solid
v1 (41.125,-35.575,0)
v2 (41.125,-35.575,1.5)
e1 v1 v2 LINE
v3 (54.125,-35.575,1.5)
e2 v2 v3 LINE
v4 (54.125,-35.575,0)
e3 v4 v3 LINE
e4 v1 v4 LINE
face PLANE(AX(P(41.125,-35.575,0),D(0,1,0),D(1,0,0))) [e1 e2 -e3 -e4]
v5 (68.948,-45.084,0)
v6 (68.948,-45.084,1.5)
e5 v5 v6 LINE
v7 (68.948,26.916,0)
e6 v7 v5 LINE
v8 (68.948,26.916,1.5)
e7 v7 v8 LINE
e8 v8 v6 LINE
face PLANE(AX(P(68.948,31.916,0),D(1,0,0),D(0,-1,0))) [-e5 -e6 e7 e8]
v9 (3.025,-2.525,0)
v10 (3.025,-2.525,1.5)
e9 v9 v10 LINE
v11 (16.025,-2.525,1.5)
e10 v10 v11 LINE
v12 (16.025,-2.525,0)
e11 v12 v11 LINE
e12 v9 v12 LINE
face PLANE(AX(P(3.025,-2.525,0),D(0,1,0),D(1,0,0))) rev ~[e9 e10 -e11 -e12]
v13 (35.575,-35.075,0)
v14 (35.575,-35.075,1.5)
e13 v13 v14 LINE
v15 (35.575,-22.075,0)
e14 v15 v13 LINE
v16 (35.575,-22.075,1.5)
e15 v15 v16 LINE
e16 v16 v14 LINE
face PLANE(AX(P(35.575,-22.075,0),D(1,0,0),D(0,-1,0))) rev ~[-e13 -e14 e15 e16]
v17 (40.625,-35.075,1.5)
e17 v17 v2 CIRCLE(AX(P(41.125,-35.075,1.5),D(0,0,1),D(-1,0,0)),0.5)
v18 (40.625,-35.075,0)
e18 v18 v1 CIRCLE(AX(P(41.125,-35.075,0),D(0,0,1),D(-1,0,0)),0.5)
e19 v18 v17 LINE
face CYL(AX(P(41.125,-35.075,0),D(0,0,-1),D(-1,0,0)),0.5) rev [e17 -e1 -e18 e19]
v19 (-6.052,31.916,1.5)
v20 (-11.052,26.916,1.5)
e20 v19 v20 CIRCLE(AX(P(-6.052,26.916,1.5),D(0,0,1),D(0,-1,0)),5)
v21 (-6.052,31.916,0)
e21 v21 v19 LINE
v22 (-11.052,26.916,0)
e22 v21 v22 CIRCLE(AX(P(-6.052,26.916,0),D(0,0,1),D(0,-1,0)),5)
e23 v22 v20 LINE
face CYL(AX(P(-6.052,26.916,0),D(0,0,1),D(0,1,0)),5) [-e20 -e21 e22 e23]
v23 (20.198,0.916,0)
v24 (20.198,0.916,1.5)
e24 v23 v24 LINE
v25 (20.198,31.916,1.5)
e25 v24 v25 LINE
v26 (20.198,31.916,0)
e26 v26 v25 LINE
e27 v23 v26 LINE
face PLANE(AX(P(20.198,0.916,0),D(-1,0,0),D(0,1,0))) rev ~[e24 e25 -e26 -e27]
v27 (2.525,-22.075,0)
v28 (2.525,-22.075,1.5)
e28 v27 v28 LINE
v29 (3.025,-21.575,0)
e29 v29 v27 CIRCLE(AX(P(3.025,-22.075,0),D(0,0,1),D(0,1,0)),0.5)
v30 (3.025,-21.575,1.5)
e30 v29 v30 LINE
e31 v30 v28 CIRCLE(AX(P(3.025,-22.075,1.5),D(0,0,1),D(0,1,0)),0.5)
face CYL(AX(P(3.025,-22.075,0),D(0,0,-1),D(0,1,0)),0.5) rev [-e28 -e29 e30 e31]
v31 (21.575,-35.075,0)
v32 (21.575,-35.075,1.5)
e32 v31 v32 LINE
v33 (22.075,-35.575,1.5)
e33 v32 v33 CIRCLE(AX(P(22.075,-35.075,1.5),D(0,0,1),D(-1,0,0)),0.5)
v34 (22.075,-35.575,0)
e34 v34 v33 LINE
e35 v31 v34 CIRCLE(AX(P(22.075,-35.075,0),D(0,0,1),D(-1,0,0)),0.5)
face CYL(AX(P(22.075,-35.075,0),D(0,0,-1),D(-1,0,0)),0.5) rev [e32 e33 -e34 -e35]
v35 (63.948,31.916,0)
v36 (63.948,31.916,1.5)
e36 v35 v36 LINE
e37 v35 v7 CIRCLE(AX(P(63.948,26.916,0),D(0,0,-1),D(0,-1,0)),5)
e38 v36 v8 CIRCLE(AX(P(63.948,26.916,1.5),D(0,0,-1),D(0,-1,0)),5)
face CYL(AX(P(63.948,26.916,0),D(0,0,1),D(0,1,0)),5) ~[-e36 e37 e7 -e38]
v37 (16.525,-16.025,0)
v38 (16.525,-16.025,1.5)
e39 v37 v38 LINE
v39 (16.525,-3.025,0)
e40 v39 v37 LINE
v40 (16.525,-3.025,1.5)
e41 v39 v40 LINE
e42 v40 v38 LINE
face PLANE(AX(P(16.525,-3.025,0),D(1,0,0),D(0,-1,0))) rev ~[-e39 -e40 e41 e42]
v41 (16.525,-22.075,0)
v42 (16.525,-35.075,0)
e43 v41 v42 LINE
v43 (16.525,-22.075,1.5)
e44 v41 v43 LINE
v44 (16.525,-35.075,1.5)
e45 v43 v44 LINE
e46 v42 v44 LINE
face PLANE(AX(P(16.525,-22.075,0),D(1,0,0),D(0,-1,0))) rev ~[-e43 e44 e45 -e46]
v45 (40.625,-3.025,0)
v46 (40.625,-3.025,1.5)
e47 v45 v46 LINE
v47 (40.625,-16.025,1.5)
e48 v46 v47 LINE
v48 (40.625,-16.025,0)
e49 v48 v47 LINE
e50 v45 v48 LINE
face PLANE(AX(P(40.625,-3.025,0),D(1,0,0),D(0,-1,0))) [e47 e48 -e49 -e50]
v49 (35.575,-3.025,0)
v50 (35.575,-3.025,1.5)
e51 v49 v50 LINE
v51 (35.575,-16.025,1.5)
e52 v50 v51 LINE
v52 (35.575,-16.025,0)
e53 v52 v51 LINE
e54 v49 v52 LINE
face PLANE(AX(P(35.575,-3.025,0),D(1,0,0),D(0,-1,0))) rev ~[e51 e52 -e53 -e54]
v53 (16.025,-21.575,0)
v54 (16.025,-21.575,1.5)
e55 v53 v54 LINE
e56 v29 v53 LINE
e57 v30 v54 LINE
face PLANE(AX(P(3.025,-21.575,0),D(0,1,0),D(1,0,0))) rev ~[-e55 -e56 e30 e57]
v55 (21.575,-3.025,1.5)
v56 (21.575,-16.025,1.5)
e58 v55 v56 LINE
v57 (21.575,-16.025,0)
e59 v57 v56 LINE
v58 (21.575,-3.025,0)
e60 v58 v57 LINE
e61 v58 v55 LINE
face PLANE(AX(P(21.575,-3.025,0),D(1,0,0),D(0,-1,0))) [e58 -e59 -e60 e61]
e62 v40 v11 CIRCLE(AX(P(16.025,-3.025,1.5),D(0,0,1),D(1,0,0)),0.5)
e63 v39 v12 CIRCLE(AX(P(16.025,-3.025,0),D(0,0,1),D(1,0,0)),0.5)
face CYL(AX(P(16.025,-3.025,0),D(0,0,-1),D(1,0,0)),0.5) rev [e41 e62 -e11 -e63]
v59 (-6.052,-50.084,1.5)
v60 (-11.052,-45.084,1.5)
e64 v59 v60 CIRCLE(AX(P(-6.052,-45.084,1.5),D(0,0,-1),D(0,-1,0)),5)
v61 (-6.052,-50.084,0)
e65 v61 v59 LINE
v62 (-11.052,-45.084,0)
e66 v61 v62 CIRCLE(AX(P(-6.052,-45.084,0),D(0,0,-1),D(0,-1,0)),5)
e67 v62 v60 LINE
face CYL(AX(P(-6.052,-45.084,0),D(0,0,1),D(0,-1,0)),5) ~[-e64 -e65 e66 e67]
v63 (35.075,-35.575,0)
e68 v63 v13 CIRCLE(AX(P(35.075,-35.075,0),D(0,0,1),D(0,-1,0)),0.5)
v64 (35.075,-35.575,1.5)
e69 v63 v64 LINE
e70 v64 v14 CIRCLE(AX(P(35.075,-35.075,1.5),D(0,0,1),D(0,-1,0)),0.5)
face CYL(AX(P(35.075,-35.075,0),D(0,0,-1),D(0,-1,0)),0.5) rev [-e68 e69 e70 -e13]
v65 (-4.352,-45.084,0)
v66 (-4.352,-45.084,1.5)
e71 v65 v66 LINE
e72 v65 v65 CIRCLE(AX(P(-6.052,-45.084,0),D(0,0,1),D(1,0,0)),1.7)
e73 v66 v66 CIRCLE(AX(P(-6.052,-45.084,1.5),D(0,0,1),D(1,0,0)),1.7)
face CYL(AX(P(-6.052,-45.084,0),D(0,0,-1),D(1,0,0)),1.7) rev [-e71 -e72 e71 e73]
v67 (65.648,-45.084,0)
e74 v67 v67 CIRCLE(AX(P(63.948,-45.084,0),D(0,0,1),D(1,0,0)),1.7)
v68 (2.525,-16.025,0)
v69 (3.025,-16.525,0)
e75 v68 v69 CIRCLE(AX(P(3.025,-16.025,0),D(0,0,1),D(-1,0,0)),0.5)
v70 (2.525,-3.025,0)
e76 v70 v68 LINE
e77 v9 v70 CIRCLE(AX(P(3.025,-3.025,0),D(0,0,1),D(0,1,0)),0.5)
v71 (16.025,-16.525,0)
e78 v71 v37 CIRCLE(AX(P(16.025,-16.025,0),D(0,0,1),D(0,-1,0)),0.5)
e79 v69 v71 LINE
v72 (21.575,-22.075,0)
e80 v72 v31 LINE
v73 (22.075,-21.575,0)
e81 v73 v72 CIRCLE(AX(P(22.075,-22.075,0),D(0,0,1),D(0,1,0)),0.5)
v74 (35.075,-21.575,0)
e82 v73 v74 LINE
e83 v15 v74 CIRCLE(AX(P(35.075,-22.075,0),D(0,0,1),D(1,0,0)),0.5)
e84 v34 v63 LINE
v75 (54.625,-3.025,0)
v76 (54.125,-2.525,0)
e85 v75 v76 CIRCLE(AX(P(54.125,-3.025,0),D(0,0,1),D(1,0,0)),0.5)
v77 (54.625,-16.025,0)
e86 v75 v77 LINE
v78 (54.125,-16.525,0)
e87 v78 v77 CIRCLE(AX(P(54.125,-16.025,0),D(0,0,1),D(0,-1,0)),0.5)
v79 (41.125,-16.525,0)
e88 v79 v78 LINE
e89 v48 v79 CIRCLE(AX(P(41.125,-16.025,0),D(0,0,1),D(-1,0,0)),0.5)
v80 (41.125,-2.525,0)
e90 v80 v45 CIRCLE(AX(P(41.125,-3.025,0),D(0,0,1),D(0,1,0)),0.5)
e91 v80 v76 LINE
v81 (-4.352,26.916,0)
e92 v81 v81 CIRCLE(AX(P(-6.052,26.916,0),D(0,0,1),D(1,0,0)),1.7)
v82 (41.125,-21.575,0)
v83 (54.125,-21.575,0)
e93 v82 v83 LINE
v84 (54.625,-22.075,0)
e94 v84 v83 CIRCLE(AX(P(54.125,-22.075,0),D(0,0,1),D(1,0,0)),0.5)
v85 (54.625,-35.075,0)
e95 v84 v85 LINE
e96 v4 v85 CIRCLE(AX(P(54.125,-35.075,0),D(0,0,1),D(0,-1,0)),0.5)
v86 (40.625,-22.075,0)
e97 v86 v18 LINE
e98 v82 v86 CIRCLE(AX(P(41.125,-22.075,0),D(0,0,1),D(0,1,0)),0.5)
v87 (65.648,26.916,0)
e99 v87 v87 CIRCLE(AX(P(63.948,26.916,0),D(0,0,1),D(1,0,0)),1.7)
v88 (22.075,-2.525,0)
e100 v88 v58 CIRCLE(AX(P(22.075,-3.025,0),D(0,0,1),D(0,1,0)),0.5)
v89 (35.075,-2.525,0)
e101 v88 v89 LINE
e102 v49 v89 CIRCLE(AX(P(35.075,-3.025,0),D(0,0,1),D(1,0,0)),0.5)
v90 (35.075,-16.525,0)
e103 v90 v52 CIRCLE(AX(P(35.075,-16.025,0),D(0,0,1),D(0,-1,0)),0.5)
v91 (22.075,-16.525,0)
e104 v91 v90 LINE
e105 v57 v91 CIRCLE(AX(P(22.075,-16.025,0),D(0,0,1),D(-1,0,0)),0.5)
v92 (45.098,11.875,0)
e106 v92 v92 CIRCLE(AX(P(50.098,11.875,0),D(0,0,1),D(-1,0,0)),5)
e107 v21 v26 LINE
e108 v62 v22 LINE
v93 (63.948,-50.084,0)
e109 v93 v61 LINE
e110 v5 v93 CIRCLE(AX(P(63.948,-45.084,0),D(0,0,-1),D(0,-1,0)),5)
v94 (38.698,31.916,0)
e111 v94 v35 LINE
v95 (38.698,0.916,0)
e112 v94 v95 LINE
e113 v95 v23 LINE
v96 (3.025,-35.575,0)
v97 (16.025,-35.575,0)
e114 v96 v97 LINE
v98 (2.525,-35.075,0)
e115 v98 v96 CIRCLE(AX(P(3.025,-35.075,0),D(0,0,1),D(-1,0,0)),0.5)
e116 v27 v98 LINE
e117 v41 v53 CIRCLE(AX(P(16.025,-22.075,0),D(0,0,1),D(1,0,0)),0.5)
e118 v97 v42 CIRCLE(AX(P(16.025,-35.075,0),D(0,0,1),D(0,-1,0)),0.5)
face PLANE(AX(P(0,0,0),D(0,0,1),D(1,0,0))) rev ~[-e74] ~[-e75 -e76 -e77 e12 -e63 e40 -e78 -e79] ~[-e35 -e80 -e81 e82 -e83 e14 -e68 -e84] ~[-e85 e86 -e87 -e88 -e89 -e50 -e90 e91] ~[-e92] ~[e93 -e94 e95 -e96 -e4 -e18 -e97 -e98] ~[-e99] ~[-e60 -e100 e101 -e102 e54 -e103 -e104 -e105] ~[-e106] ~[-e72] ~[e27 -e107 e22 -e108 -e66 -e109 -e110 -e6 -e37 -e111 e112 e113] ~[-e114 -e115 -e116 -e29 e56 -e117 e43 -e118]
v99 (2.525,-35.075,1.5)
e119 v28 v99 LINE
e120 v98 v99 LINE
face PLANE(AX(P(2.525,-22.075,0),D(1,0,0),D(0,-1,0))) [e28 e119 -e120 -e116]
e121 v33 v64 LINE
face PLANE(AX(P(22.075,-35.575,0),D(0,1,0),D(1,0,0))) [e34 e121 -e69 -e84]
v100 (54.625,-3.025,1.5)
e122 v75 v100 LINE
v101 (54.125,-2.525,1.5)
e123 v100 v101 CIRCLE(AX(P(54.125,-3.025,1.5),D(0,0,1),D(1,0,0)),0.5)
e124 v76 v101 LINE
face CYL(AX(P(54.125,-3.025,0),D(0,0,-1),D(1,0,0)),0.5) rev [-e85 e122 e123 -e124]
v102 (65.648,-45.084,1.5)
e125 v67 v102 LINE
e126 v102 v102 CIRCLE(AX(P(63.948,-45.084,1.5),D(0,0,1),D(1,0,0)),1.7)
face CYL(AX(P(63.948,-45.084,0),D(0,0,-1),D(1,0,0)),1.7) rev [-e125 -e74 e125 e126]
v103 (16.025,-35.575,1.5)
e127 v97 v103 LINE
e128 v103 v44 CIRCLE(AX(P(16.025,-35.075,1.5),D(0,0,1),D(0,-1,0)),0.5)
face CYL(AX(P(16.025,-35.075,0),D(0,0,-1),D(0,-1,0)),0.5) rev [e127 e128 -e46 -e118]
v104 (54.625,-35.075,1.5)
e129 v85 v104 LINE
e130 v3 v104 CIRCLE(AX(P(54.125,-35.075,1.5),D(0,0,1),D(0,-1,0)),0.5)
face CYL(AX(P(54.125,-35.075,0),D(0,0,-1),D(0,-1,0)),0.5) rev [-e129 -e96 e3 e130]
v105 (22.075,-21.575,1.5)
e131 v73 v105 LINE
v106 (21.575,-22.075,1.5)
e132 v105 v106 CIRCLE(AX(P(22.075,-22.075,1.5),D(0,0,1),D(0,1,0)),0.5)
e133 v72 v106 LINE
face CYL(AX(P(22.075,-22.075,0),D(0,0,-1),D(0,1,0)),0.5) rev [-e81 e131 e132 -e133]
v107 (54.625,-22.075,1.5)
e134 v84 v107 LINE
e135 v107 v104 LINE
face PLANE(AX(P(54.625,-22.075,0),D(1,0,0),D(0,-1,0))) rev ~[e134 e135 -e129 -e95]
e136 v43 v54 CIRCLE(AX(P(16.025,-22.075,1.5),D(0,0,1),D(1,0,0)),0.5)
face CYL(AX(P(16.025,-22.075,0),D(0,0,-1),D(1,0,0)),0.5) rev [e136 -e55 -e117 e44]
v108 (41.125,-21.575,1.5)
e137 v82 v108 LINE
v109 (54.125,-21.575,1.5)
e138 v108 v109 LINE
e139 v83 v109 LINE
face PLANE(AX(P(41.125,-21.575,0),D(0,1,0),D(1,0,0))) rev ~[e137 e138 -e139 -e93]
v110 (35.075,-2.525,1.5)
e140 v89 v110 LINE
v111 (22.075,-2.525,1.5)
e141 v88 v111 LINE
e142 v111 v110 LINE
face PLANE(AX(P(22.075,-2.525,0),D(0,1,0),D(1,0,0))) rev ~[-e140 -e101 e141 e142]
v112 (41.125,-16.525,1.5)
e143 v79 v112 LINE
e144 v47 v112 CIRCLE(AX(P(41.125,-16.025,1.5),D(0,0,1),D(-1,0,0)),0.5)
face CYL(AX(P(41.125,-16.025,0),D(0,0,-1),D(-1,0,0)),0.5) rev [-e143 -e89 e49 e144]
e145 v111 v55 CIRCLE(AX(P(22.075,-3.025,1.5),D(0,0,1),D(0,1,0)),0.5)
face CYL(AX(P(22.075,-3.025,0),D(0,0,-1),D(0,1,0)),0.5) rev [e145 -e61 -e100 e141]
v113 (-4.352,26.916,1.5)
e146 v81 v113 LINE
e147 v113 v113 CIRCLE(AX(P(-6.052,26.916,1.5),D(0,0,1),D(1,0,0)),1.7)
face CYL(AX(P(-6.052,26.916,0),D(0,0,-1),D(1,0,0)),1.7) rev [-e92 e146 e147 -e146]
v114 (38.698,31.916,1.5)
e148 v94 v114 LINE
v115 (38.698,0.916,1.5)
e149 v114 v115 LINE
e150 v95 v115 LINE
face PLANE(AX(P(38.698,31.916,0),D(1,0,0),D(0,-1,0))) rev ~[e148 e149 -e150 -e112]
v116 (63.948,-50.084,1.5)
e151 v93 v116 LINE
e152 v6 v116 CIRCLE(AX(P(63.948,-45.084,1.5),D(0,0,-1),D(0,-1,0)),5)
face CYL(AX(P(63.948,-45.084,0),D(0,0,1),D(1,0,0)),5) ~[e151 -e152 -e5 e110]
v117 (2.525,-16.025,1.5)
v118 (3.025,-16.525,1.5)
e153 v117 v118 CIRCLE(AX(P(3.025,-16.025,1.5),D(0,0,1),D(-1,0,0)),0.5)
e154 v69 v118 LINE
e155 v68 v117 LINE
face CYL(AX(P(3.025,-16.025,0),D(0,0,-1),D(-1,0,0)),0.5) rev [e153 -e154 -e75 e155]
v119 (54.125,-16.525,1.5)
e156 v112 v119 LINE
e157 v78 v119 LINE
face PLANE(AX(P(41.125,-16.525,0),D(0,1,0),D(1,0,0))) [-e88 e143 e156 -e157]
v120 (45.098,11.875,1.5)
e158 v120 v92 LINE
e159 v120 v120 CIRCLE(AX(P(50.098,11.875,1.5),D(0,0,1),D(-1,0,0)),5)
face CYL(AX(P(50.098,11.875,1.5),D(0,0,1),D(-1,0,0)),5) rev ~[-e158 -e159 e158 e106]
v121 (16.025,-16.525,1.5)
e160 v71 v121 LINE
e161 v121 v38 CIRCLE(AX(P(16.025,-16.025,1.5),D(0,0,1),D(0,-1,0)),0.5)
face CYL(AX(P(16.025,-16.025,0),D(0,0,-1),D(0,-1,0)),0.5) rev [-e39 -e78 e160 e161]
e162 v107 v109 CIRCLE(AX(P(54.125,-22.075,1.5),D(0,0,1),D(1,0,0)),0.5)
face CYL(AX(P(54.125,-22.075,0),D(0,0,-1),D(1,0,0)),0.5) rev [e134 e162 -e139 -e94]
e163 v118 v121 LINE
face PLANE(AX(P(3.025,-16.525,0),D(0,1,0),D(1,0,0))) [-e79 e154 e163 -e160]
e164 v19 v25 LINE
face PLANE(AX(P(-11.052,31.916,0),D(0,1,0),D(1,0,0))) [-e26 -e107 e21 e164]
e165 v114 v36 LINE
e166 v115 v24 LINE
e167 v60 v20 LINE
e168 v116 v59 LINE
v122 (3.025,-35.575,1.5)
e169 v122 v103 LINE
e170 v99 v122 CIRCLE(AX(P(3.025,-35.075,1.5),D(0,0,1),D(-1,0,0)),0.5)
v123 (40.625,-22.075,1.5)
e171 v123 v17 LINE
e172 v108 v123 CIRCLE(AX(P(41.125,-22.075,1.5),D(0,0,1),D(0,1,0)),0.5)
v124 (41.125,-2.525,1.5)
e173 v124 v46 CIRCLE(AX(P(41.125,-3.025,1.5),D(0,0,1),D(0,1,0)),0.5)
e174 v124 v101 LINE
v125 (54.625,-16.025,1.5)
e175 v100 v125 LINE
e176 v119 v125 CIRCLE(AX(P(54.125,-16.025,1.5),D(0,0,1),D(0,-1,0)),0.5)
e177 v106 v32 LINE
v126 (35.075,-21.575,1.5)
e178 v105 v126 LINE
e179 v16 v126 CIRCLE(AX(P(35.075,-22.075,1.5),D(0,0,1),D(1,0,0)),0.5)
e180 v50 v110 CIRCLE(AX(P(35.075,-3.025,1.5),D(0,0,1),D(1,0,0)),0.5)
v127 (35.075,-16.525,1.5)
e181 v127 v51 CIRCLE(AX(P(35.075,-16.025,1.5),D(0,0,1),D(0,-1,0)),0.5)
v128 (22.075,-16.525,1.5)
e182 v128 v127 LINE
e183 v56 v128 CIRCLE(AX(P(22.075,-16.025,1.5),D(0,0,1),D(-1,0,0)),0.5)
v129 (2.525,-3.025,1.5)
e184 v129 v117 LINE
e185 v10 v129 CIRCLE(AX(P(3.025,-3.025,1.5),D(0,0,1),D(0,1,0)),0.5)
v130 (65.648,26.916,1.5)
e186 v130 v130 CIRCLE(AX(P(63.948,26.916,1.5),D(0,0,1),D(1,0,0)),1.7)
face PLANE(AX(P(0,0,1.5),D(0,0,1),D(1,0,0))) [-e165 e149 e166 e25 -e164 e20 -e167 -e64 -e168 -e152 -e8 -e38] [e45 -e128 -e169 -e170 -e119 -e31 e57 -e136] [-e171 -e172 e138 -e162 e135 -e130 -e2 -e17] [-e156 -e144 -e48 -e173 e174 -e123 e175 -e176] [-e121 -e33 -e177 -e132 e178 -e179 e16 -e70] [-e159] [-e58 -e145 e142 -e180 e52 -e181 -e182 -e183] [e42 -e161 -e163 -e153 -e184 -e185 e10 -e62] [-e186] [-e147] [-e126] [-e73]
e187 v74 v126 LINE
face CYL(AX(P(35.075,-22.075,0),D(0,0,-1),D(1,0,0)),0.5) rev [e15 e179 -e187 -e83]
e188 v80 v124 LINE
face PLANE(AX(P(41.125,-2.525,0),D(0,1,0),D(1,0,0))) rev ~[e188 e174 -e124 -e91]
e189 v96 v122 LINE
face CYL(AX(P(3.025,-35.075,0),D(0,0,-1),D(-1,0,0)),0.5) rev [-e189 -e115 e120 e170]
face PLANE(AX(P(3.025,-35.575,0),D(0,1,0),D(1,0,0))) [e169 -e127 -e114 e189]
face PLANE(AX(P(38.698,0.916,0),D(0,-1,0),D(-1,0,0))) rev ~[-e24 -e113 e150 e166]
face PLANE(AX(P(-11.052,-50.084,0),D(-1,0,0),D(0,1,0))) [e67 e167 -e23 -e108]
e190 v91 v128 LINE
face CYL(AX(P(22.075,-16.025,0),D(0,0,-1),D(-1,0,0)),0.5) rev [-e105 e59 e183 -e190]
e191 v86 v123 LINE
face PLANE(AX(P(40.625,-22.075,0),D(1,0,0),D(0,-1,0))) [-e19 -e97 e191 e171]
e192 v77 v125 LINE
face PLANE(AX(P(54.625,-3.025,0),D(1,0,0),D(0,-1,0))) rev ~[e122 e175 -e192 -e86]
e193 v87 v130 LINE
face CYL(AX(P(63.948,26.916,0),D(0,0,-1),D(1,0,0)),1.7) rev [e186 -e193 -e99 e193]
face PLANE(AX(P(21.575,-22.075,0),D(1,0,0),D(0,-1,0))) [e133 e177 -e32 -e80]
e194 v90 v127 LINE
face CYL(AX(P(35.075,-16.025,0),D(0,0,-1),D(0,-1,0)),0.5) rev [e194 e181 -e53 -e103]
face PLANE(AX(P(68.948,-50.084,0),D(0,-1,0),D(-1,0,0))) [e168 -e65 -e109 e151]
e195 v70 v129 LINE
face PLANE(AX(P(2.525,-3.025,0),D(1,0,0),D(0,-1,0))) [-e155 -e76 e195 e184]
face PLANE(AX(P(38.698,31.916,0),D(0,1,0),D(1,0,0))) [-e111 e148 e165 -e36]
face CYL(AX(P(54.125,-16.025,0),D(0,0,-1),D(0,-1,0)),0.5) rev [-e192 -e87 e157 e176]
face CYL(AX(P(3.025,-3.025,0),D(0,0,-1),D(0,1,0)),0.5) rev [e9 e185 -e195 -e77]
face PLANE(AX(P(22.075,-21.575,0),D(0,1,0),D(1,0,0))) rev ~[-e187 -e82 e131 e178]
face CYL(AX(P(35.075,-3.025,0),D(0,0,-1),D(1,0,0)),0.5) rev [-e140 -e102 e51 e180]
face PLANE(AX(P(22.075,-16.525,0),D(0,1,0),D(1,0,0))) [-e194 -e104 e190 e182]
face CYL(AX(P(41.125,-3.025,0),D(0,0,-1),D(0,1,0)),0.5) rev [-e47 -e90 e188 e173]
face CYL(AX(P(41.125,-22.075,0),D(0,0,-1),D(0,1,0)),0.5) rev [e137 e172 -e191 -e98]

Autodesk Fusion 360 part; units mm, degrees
sketch "Sketch1" plane through (0, 0, 0) normal (0, 0, 1) x (1, 0, 0)
  line L0 (3.025, -2.525) -> (16.025, -2.525)
  line L1 (3.025, -16.525) -> (16.025, -16.525)
  line L2 (2.525, -3.025) -> (2.525, -16.025)
  line L3 (16.525, -3.025) -> (16.525, -16.025)
  arc A0 (3.025, -2.525) -> (2.525, -3.025) centre (3.025, -3.025) ccw
  arc A1 (16.525, -3.025) -> (16.025, -2.525) centre (16.025, -3.025) ccw
  arc A2 (2.525, -16.025) -> (3.025, -16.525) centre (3.025, -16.025) ccw
  arc A3 (16.025, -16.525) -> (16.525, -16.025) centre (16.025, -16.025) ccw
  line L4 (22.075, -2.525) -> (35.075, -2.525)
  line L5 (22.075, -16.525) -> (35.075, -16.525)
  line L6 (21.575, -3.025) -> (21.575, -16.025)
  line L7 (35.575, -3.025) -> (35.575, -16.025)
  arc A4 (22.075, -2.525) -> (21.575, -3.025) centre (22.075, -3.025) ccw
  arc A5 (35.575, -3.025) -> (35.075, -2.525) centre (35.075, -3.025) ccw
  arc A6 (21.575, -16.025) -> (22.075, -16.525) centre (22.075, -16.025) ccw
  arc A7 (35.075, -16.525) -> (35.575, -16.025) centre (35.075, -16.025) ccw
  line L8 (41.125, -2.525) -> (54.125, -2.525)
  line L9 (41.125, -16.525) -> (54.125, -16.525)
  line L10 (40.625, -3.025) -> (40.625, -16.025)
  line L11 (54.625, -3.025) -> (54.625, -16.025)
  arc A8 (41.125, -2.525) -> (40.625, -3.025) centre (41.125, -3.025) ccw
  arc A9 (54.625, -3.025) -> (54.125, -2.525) centre (54.125, -3.025) ccw
  arc A10 (40.625, -16.025) -> (41.125, -16.525) centre (41.125, -16.025) ccw
  arc A11 (54.125, -16.525) -> (54.625, -16.025) centre (54.125, -16.025) ccw
  line L12 (3.025, -21.575) -> (16.025, -21.575)
  line L13 (3.025, -35.575) -> (16.025, -35.575)
  line L14 (2.525, -22.075) -> (2.525, -35.075)
  line L15 (16.525, -22.075) -> (16.525, -35.075)
  arc A12 (3.025, -21.575) -> (2.525, -22.075) centre (3.025, -22.075) ccw
  arc A13 (16.525, -22.075) -> (16.025, -21.575) centre (16.025, -22.075) ccw
  arc A14 (2.525, -35.075) -> (3.025, -35.575) centre (3.025, -35.075) ccw
  arc A15 (16.025, -35.575) -> (16.525, -35.075) centre (16.025, -35.075) ccw
  line L16 (22.075, -21.575) -> (35.075, -21.575)
  line L17 (22.075, -35.575) -> (35.075, -35.575)
  line L18 (21.575, -22.075) -> (21.575, -35.075)
  line L19 (35.575, -22.075) -> (35.575, -35.075)
  arc A16 (22.075, -21.575) -> (21.575, -22.075) centre (22.075, -22.075) ccw
  arc A17 (35.575, -22.075) -> (35.075, -21.575) centre (35.075, -22.075) ccw
  arc A18 (21.575, -35.075) -> (22.075, -35.575) centre (22.075, -35.075) ccw
  arc A19 (35.075, -35.575) -> (35.575, -35.075) centre (35.075, -35.075) ccw
  line L20 (41.125, -21.575) -> (54.125, -21.575)
  line L21 (41.125, -35.575) -> (54.125, -35.575)
  line L22 (40.625, -22.075) -> (40.625, -35.075)
  line L23 (54.625, -22.075) -> (54.625, -35.075)
  arc A20 (41.125, -21.575) -> (40.625, -22.075) centre (41.125, -22.075) ccw
  arc A21 (54.625, -22.075) -> (54.125, -21.575) centre (54.125, -22.075) ccw
  arc A22 (40.625, -35.075) -> (41.125, -35.575) centre (41.125, -35.075) ccw
  arc A23 (54.125, -35.575) -> (54.625, -35.075) centre (54.125, -35.075) ccw
  line L24 (-11.052, 31.916) -> (68.948, 31.916)
  line L25 (68.948, 31.916) -> (68.948, -50.084)
  line L26 (68.948, -50.084) -> (-11.052, -50.084)
  line L27 (-11.052, -50.084) -> (-11.052, 31.916)
  line L28 (20.198, 31.916) -> (38.698, 31.916)
  line L29 (38.698, 31.916) -> (38.698, 0.916)
  line L30 (38.698, 0.916) -> (20.198, 0.916)
  line L31 (20.198, 0.916) -> (20.198, 31.916)
  circle A24 centre (-6.052, 26.916) radius 1.7
  circle A25 centre (-6.052, -45.084) radius 1.7
  circle A26 centre (63.948, -45.084) radius 1.7
  circle A27 centre (63.948, 26.916) radius 1.7
  dimension "d1" = 80
  dimension "d2" = 82
  dimension "d4" = 13.577
  dimension "d5" = 14.509
  dimension "d6" = 18.5
  dimension "d7" = 31
  dimension "d8" = 31.25
  dimension "d9" = 3.4
  dimension "d10" = 5
  dimension "d11" = 5
  dimension "d12" = 3.4
  dimension "d13" = 5
  dimension "d14" = 5
  dimension "d15" = 3.4
  dimension "d16" = 5
  dimension "d17" = 5
  dimension "d18" = 3.4
  dimension "d19" = 5
  dimension "d20" = 5
extrude "Extrude1" add sketch "Sketch1" along normal blind 1.5 contours L24 L25 L26 L27 L29 L30 L31
fillet "Fillet1" radius 5 4 edges at (-11.052, -50.084, 0.75) (-11.052, 31.916, 0.75) (68.948, -50.084, 0.75) (68.948, 31.916, 0.75)
sketch "Sketch2" plane through (0, 0, 1.5) normal (0, 0, 1) x (-1, 0, 0)
  arc A0 (-68.948, -26.916) -> (-63.948, -31.916) centre (-63.948, -26.916) ccw
  line L0 (-63.948, -31.916) -> (-38.698, -31.916)
  line L1 (-38.698, -31.916) -> (-38.698, -0.916)
  line L2 (-38.698, -0.916) -> (-20.198, -0.916)
  line L3 (-20.198, -0.916) -> (-20.198, -31.916)
  line L4 (-20.198, -31.916) -> (6.052, -31.916)
  arc A1 (6.052, -31.916) -> (11.052, -26.916) centre (6.052, -26.916) ccw
  line L5 (11.052, -26.916) -> (11.052, 45.084)
  arc A2 (11.052, 45.084) -> (6.052, 50.084) centre (6.052, 45.084) ccw
  line L6 (6.052, 50.084) -> (-63.948, 50.084)
  arc A3 (-63.948, 50.084) -> (-68.948, 45.084) centre (-63.948, 45.084) ccw
  line L7 (-68.948, 45.084) -> (-68.948, -26.916)
  arc A4 (-41.125, 2.525) -> (-40.625, 3.025) centre (-41.125, 3.025) ccw
  line L8 (-41.125, 2.525) -> (-54.125, 2.525)
  arc A5 (-54.625, 3.025) -> (-54.125, 2.525) centre (-54.125, 3.025) ccw
  line L9 (-54.625, 3.025) -> (-54.625, 16.025)
  arc A6 (-54.125, 16.525) -> (-54.625, 16.025) centre (-54.125, 16.025) ccw
  line L10 (-54.125, 16.525) -> (-41.125, 16.525)
  arc A7 (-40.625, 16.025) -> (-41.125, 16.525) centre (-41.125, 16.025) ccw
  line L11 (-40.625, 16.025) -> (-40.625, 3.025)
  arc A8 (-22.075, 2.525) -> (-21.575, 3.025) centre (-22.075, 3.025) ccw
  line L12 (-22.075, 2.525) -> (-35.075, 2.525)
  arc A9 (-35.575, 3.025) -> (-35.075, 2.525) centre (-35.075, 3.025) ccw
  line L13 (-35.575, 3.025) -> (-35.575, 16.025)
  arc A10 (-35.075, 16.525) -> (-35.575, 16.025) centre (-35.075, 16.025) ccw
  line L14 (-35.075, 16.525) -> (-22.075, 16.525)
  arc A11 (-21.575, 16.025) -> (-22.075, 16.525) centre (-22.075, 16.025) ccw
  line L15 (-21.575, 16.025) -> (-21.575, 3.025)
  circle A12 centre (-63.948, 45.084) radius 1.7
  arc A13 (-3.025, 21.575) -> (-2.525, 22.075) centre (-3.025, 22.075) ccw
  line L16 (-3.025, 21.575) -> (-16.025, 21.575)
  arc A14 (-16.525, 22.075) -> (-16.025, 21.575) centre (-16.025, 22.075) ccw
  line L17 (-16.525, 22.075) -> (-16.525, 35.075)
  arc A15 (-16.025, 35.575) -> (-16.525, 35.075) centre (-16.025, 35.075) ccw
  line L18 (-16.025, 35.575) -> (-3.025, 35.575)
  arc A16 (-2.525, 35.075) -> (-3.025, 35.575) centre (-3.025, 35.075) ccw
  line L19 (-2.525, 35.075) -> (-2.525, 22.075)
  arc A17 (-3.025, 2.525) -> (-2.525, 3.025) centre (-3.025, 3.025) ccw
  line L20 (-3.025, 2.525) -> (-16.025, 2.525)
  arc A18 (-16.525, 3.025) -> (-16.025, 2.525) centre (-16.025, 3.025) ccw
  line L21 (-16.525, 3.025) -> (-16.525, 16.025)
  arc A19 (-16.025, 16.525) -> (-16.525, 16.025) centre (-16.025, 16.025) ccw
  line L22 (-16.025, 16.525) -> (-3.025, 16.525)
  arc A20 (-2.525, 16.025) -> (-3.025, 16.525) centre (-3.025, 16.025) ccw
  line L23 (-2.525, 16.025) -> (-2.525, 3.025)
  circle A21 centre (6.052, 45.084) radius 1.7
  arc A22 (-41.125, 21.575) -> (-40.625, 22.075) centre (-41.125, 22.075) ccw
  line L24 (-41.125, 21.575) -> (-54.125, 21.575)
  arc A23 (-54.625, 22.075) -> (-54.125, 21.575) centre (-54.125, 22.075) ccw
  line L25 (-54.625, 22.075) -> (-54.625, 35.075)
  arc A24 (-54.125, 35.575) -> (-54.625, 35.075) centre (-54.125, 35.075) ccw
  line L26 (-54.125, 35.575) -> (-41.125, 35.575)
  arc A25 (-40.625, 35.075) -> (-41.125, 35.575) centre (-41.125, 35.075) ccw
  line L27 (-40.625, 35.075) -> (-40.625, 22.075)
  circle A26 centre (6.052, -26.916) radius 1.7
  arc A27 (-22.075, 21.575) -> (-21.575, 22.075) centre (-22.075, 22.075) ccw
  line L28 (-22.075, 21.575) -> (-35.075, 21.575)
  arc A28 (-35.575, 22.075) -> (-35.075, 21.575) centre (-35.075, 22.075) ccw
  line L29 (-35.575, 22.075) -> (-35.575, 35.075)
  arc A29 (-35.075, 35.575) -> (-35.575, 35.075) centre (-35.075, 35.075) ccw
  line L30 (-35.075, 35.575) -> (-22.075, 35.575)
  arc A30 (-21.575, 35.075) -> (-22.075, 35.575) centre (-22.075, 35.075) ccw
  line L31 (-21.575, 35.075) -> (-21.575, 22.075)
  circle A31 centre (-63.948, -26.916) radius 1.7
  circle A32 centre (-50.098, -11.875) radius 5
  dimension "d28" = 10
  dimension "d29" = 14.4
  dimension "d30" = 11.4
extrude "Extrude2" cut sketch "Sketch2" against normal blind 5 contours A32
